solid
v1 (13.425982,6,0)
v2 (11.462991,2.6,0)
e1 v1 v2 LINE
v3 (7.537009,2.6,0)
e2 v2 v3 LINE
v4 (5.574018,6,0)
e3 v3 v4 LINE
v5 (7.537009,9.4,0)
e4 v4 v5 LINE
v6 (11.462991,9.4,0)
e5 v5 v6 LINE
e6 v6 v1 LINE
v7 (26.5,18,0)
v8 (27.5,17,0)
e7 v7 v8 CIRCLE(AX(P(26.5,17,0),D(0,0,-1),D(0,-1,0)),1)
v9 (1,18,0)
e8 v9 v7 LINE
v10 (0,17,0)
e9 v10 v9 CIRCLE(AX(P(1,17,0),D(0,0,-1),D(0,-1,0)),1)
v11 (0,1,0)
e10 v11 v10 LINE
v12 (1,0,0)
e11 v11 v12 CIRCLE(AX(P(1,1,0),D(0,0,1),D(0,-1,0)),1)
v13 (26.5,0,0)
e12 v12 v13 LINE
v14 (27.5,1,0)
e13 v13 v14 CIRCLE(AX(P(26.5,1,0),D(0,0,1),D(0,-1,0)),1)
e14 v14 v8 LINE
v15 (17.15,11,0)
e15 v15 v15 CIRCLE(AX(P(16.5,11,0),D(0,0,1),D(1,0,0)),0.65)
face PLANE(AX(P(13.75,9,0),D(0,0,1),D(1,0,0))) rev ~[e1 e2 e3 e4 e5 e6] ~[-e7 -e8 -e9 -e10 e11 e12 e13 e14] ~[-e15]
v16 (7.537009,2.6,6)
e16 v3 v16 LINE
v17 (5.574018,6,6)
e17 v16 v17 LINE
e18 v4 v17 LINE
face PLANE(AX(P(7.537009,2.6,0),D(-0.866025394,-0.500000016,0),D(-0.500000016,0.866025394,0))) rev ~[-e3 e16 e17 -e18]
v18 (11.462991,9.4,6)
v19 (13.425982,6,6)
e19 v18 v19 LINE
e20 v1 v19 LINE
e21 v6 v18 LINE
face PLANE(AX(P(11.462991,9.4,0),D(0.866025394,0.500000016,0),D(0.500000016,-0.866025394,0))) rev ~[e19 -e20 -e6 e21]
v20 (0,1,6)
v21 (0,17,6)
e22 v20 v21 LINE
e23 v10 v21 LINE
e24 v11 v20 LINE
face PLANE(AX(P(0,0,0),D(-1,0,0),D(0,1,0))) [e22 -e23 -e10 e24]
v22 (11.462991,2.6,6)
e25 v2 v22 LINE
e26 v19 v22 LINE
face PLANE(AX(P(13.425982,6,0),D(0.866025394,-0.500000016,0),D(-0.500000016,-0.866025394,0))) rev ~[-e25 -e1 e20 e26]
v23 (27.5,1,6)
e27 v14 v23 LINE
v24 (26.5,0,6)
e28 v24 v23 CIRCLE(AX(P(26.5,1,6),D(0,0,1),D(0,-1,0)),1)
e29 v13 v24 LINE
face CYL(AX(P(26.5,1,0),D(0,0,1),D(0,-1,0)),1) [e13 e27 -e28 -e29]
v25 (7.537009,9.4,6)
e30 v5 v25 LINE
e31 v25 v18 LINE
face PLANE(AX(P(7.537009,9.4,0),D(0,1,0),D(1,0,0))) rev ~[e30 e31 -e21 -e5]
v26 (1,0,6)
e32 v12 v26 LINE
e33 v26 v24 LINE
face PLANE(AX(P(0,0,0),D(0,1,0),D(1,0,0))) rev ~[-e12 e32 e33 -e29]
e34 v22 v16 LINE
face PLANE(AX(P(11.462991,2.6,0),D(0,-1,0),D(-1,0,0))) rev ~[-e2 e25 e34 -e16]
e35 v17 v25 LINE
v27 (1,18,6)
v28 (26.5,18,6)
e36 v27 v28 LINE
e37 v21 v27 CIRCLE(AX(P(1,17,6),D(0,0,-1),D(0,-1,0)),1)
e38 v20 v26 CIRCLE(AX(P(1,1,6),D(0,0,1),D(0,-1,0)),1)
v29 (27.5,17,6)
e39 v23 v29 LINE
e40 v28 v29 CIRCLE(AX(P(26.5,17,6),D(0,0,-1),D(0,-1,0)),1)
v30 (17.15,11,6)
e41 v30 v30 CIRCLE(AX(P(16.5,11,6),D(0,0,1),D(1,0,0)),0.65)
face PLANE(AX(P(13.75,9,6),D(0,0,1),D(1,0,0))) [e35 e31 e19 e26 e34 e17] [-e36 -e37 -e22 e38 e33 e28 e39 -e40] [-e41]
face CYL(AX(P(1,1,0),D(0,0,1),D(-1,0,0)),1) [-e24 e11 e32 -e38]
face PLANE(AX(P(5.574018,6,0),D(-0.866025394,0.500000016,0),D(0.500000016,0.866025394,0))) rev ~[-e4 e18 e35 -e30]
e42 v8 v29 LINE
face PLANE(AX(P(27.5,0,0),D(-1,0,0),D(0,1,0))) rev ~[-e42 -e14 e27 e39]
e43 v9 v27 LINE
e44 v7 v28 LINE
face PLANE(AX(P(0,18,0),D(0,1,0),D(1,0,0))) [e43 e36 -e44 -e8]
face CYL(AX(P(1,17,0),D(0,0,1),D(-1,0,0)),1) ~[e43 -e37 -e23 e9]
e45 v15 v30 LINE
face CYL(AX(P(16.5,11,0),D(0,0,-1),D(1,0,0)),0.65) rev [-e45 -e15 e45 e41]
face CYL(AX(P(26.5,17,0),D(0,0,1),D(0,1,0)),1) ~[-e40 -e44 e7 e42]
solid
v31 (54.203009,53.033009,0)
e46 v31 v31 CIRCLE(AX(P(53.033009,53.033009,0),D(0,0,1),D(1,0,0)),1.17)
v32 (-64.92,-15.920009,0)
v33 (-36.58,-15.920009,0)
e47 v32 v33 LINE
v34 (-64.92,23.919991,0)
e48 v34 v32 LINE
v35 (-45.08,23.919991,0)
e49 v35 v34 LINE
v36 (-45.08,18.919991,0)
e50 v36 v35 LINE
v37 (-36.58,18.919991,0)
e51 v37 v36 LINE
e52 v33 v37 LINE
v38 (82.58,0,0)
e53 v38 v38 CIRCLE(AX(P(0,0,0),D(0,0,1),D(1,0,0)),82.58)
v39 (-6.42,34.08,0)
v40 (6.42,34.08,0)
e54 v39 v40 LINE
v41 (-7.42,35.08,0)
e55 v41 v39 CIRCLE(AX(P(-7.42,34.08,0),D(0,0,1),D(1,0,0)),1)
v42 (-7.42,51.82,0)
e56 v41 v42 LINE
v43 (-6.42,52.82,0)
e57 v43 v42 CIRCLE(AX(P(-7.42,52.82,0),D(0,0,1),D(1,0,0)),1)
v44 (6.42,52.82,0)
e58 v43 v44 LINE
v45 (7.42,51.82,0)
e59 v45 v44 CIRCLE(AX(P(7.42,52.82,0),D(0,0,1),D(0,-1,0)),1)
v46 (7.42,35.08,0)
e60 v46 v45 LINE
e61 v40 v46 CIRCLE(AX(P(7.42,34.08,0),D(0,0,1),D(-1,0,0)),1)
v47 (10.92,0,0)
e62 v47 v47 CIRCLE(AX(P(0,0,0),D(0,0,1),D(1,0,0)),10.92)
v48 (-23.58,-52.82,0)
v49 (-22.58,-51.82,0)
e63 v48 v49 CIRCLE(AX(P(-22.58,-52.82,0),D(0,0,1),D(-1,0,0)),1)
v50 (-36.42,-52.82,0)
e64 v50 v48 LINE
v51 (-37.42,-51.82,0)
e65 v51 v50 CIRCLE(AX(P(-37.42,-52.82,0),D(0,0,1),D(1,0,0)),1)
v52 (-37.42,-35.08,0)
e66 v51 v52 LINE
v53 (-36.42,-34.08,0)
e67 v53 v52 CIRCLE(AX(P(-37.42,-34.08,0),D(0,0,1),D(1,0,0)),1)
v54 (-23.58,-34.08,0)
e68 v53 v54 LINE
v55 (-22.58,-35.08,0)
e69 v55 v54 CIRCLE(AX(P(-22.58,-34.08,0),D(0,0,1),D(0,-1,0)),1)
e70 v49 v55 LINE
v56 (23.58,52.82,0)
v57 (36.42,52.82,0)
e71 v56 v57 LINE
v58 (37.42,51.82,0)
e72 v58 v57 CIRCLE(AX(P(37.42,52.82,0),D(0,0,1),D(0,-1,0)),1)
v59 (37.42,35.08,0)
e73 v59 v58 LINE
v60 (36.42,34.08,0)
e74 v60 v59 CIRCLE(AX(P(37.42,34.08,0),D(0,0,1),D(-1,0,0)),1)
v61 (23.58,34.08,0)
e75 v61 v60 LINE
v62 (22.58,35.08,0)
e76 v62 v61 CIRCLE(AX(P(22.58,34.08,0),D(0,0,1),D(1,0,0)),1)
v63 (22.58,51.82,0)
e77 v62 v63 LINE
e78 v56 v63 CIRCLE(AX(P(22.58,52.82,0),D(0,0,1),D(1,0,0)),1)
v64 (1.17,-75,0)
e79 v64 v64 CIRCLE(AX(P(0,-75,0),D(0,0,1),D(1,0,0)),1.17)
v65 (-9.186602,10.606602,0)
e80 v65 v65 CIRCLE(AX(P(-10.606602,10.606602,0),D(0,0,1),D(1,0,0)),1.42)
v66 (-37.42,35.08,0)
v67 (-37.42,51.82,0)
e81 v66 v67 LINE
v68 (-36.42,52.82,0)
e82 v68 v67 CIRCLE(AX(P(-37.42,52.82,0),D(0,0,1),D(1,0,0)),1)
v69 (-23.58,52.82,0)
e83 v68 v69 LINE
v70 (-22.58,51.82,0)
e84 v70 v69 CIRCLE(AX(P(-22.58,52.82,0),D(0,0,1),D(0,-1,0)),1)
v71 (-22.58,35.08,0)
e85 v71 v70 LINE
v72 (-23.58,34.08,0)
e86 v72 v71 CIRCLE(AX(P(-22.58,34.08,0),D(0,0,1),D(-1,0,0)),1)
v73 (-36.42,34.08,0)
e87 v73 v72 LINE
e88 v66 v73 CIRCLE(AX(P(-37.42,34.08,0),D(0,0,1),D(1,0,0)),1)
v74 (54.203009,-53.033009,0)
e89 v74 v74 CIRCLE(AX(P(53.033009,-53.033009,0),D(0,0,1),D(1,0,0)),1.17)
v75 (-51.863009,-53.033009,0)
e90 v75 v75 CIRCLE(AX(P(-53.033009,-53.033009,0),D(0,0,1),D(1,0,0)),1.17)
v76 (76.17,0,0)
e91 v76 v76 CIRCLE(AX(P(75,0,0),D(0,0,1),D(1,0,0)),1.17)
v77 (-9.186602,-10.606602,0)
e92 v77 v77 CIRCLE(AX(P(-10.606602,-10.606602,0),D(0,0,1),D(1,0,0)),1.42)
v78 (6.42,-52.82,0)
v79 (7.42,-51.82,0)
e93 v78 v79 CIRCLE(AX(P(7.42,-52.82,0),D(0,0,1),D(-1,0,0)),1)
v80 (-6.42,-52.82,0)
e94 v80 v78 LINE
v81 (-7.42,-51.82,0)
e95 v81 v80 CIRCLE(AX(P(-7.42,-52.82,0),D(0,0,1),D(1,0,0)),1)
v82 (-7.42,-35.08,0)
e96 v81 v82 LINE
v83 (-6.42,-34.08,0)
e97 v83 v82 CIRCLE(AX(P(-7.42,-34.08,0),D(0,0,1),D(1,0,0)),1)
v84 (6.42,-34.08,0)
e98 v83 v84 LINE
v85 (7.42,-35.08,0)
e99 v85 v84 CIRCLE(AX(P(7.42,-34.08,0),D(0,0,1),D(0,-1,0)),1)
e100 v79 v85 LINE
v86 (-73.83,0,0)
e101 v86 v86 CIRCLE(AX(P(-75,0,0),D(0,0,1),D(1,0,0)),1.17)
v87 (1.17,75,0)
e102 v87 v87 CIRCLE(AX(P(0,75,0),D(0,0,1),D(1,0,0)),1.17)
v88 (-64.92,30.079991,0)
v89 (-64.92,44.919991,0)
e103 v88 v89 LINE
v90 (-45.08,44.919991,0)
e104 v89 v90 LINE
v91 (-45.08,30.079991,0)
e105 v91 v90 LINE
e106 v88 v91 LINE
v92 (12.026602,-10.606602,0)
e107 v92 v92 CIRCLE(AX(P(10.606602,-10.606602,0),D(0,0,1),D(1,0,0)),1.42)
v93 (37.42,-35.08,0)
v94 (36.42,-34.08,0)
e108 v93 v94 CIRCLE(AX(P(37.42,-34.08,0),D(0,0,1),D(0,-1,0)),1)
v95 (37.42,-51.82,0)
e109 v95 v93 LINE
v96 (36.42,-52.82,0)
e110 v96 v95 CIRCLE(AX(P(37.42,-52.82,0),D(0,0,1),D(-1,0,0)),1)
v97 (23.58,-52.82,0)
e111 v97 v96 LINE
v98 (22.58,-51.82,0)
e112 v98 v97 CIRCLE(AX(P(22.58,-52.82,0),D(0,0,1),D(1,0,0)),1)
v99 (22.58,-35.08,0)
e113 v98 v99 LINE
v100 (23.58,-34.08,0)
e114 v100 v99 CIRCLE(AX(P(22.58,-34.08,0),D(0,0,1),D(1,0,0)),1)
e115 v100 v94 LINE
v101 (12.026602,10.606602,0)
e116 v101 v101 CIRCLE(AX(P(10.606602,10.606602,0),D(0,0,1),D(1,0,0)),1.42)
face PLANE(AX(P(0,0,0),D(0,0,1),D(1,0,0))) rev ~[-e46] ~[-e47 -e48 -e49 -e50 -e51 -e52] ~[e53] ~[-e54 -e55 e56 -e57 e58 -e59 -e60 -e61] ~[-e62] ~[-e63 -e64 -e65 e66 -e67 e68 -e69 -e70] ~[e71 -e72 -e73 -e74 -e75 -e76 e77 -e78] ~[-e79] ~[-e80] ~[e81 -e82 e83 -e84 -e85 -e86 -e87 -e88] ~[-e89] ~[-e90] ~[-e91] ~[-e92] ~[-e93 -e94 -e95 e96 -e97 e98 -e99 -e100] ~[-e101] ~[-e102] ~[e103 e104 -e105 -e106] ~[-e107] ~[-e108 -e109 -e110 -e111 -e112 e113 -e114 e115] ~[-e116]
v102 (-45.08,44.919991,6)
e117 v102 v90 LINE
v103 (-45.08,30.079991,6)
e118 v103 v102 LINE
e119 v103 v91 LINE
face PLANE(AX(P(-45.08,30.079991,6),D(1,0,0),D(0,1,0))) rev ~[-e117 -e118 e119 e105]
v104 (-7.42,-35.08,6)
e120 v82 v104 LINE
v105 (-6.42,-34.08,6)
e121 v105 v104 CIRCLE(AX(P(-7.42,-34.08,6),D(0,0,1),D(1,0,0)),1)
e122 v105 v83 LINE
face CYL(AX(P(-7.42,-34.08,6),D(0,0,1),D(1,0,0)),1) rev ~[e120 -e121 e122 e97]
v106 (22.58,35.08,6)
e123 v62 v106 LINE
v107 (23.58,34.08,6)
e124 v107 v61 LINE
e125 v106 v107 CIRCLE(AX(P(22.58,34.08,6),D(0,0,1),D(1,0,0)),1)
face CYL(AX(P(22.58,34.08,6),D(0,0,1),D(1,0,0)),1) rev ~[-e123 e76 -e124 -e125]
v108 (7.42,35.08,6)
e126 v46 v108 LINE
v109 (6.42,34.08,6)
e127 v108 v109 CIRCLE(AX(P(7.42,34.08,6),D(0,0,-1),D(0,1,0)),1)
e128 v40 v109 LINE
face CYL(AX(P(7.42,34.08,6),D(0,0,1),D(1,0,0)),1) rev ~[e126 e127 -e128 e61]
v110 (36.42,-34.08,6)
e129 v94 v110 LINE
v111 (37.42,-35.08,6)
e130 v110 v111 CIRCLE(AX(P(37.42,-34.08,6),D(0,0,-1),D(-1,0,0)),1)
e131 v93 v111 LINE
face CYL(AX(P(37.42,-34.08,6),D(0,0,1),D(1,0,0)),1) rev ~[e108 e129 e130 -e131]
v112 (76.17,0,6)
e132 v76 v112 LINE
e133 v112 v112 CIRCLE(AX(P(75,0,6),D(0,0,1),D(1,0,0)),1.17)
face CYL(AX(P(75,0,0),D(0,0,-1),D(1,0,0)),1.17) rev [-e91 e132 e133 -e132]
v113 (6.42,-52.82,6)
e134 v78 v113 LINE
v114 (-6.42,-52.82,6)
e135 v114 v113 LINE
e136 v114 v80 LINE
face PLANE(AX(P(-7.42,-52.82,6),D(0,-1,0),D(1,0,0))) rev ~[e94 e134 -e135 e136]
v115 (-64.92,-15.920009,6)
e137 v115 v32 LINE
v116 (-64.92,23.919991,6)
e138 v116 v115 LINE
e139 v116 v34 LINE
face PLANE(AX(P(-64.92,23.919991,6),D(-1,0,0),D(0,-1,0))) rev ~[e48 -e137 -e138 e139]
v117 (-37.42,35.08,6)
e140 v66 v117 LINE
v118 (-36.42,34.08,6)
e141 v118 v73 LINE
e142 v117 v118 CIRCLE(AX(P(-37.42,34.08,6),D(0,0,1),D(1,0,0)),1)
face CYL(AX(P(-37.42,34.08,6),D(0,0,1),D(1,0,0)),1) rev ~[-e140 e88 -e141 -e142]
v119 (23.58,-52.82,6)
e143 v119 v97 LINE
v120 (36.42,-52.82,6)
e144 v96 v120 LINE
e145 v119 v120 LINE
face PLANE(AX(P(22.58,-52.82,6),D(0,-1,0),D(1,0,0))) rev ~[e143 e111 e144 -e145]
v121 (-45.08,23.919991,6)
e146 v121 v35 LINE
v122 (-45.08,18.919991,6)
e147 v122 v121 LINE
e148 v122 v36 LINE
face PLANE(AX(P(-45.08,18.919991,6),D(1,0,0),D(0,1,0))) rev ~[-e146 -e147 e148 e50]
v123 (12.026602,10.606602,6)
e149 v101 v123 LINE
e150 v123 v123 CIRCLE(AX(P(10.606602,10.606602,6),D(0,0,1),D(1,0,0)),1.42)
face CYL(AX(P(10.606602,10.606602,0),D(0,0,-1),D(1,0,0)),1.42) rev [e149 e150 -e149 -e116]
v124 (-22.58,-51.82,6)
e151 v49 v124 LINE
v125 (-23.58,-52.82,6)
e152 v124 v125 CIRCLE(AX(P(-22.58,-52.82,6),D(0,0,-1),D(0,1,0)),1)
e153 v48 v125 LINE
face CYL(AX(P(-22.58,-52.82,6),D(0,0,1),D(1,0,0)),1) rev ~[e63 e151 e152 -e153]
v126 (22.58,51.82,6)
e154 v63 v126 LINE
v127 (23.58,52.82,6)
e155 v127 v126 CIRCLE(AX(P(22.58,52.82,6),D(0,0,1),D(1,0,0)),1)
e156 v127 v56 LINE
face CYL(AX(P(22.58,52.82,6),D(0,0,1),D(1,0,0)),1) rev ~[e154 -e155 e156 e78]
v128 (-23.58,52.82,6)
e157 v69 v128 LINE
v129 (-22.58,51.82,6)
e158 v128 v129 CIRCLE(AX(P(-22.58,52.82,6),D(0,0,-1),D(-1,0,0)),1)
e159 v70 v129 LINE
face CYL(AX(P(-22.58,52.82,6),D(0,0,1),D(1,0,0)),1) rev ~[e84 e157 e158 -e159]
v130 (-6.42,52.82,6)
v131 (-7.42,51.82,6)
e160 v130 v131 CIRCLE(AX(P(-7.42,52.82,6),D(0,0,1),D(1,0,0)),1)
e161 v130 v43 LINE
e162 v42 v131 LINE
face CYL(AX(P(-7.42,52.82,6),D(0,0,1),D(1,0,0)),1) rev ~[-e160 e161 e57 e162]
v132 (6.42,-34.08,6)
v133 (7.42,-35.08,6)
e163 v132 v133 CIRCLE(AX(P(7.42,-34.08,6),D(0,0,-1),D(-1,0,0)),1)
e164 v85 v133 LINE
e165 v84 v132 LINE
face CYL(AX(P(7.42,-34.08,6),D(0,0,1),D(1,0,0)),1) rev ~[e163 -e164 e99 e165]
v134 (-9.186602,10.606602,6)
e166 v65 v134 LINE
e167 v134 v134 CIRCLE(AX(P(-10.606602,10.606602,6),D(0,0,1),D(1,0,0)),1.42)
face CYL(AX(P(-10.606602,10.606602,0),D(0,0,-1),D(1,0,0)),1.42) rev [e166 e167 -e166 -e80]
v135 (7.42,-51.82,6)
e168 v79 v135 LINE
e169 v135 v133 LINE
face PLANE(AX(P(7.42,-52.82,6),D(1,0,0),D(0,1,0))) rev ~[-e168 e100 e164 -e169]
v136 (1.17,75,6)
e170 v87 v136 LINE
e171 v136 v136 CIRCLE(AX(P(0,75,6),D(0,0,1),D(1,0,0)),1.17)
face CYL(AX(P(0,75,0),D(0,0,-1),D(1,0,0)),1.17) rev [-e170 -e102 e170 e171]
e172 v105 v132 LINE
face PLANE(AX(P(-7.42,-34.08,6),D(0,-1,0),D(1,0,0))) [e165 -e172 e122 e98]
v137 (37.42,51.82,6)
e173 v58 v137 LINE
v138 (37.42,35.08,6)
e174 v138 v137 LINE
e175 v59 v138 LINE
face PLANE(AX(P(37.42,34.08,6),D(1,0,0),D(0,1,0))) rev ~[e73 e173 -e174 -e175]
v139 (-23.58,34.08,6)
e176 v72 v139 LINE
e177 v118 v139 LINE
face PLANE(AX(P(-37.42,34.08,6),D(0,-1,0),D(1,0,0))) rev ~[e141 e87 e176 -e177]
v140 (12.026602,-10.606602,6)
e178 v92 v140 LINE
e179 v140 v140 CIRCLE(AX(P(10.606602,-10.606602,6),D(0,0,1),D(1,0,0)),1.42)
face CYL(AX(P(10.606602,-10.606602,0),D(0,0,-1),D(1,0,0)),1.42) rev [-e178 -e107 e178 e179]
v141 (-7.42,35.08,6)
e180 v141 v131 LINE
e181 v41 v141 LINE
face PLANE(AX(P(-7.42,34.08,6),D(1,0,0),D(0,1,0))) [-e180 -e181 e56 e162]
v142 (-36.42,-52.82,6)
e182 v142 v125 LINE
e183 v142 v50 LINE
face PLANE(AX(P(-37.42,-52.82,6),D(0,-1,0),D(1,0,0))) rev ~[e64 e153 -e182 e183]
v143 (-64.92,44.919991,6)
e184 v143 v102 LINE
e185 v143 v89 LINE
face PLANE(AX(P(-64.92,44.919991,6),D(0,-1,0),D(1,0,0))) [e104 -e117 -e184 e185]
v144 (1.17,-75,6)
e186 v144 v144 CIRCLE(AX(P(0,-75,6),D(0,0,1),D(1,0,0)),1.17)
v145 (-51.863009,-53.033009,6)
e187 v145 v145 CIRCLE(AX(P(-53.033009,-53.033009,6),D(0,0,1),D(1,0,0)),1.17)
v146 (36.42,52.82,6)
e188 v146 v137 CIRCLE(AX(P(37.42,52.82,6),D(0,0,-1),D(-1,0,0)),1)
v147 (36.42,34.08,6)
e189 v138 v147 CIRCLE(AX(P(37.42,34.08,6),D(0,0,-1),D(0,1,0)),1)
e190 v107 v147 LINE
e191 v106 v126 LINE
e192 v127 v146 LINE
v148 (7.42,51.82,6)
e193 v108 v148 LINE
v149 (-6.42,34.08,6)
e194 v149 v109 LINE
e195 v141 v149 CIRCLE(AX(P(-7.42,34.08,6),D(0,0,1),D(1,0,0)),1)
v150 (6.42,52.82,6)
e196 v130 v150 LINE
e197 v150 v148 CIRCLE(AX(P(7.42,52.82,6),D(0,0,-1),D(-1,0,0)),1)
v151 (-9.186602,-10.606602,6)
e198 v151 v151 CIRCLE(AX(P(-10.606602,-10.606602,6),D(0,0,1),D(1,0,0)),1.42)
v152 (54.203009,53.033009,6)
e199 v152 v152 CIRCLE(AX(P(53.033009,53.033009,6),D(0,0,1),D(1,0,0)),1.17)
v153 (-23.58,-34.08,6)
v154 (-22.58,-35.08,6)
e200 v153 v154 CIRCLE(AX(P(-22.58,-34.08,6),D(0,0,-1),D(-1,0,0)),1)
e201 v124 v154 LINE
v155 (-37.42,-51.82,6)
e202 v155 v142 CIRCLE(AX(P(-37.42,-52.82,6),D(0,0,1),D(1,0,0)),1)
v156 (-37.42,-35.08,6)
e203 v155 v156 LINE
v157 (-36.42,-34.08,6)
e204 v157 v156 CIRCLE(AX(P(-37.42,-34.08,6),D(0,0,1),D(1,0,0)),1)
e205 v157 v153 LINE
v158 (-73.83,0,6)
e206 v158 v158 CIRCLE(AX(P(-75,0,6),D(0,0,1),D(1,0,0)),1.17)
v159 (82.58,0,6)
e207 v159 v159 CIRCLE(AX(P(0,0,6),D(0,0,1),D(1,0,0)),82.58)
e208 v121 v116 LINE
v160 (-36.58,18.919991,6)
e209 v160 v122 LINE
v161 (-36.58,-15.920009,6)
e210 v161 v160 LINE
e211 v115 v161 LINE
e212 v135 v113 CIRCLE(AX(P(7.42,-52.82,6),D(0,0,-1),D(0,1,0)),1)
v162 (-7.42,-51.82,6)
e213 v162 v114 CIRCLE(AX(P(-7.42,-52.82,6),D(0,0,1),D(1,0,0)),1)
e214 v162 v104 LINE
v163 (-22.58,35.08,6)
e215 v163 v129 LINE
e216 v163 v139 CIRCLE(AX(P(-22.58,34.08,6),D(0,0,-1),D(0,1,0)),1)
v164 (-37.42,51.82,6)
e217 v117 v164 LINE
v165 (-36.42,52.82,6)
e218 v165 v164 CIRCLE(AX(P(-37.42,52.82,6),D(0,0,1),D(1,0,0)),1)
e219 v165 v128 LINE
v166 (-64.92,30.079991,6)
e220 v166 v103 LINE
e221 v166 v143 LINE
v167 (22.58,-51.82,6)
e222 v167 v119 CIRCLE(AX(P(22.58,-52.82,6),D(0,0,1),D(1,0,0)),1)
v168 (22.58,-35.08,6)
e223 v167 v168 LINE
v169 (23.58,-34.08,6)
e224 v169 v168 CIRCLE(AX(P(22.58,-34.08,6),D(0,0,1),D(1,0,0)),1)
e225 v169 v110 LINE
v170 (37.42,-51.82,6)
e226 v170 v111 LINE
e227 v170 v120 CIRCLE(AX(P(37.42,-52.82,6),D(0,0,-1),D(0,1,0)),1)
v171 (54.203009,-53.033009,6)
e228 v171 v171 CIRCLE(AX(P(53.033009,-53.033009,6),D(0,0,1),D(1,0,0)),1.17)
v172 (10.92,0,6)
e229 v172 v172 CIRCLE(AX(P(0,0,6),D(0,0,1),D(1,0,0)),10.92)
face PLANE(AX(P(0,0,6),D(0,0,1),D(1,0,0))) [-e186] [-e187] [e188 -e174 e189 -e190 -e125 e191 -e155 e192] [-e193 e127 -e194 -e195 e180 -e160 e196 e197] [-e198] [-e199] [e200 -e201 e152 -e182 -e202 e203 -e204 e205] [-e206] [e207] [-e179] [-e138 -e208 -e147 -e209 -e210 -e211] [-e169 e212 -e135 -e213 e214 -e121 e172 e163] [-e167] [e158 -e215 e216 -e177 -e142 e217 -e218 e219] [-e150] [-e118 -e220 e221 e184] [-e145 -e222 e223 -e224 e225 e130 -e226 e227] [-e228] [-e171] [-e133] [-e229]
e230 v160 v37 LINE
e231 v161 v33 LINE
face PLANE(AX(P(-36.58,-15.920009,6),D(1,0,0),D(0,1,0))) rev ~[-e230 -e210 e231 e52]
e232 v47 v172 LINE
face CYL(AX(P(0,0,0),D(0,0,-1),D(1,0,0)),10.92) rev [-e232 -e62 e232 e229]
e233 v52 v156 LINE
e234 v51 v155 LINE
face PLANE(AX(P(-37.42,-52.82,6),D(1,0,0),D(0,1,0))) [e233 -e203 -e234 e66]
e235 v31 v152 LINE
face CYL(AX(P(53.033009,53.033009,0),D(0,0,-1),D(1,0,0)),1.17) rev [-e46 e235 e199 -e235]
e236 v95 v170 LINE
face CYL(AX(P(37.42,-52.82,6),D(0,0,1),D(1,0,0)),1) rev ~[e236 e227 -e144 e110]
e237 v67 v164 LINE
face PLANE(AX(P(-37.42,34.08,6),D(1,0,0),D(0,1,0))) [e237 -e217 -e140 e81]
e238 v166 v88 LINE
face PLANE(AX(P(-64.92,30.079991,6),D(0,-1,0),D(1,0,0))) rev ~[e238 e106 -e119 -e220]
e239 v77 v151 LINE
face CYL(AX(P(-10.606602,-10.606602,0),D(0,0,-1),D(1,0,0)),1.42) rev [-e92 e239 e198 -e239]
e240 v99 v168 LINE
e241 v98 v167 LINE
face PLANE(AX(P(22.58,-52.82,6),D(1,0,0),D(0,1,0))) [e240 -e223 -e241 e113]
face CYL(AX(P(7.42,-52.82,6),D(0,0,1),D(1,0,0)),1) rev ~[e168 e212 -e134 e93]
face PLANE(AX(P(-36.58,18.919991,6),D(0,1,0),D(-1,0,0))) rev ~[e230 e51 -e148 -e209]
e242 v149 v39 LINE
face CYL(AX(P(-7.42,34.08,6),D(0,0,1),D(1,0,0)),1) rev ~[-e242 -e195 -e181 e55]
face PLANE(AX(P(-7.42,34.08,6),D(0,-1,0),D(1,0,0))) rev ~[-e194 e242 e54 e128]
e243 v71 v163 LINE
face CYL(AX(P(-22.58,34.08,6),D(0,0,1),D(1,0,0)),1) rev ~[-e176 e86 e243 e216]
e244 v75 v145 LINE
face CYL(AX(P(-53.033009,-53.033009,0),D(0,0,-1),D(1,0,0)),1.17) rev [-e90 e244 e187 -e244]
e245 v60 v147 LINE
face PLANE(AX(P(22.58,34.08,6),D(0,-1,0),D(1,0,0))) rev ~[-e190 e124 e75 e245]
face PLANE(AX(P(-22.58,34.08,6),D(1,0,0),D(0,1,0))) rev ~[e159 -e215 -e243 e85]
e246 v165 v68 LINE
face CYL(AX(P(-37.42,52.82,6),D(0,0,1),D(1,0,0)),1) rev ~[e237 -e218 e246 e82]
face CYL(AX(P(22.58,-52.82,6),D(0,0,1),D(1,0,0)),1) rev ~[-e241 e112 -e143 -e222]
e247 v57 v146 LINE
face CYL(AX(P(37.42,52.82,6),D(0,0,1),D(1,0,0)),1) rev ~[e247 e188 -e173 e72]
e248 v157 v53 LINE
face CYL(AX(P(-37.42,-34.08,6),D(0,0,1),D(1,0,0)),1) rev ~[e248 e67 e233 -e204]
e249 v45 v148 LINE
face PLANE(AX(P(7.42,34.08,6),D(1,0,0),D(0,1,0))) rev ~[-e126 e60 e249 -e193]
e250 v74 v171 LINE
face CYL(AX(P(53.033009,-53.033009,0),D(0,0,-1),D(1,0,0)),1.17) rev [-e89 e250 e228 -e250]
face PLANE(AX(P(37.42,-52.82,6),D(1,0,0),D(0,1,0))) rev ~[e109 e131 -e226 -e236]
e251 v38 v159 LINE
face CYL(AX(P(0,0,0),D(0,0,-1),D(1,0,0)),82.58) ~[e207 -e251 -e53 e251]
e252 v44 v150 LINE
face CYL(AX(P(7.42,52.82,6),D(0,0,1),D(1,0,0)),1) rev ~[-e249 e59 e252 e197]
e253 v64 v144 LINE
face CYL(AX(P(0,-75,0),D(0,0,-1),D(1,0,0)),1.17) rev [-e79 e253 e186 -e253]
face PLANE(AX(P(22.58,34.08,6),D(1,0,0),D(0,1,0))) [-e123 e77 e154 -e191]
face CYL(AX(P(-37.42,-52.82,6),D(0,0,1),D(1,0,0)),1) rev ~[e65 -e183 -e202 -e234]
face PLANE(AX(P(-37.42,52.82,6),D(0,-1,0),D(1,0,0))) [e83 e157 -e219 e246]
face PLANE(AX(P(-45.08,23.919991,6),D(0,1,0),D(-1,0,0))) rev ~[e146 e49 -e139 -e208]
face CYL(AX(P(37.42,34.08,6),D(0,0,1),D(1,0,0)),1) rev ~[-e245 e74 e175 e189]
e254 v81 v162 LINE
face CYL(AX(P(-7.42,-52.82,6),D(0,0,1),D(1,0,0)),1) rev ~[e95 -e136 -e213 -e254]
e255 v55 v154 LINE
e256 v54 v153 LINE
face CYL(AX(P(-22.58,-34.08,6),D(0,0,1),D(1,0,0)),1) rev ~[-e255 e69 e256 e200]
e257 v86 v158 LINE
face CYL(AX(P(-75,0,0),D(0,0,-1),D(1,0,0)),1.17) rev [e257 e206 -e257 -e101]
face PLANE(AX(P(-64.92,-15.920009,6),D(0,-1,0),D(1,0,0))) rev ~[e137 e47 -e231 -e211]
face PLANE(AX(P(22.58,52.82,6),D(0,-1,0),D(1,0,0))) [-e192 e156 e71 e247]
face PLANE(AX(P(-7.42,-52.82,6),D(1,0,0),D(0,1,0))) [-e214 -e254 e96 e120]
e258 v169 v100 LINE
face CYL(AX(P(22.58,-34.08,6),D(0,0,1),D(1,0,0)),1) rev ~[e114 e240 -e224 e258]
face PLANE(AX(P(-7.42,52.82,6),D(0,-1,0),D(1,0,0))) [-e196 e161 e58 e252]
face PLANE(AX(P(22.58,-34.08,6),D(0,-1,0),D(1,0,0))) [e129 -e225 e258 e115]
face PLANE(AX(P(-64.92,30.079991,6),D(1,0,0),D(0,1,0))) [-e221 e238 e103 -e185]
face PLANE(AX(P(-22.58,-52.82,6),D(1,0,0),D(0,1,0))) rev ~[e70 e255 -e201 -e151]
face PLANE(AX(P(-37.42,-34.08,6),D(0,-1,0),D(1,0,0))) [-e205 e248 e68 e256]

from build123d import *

# Parameters (mm, degrees)
F0_R     = 82.58
F0_R_2   = 1.17
F0_R_3   = 1.42
F0_R_4   = 10.92
F1_DEPTH = 6
F2_W     = 19.84
F2_H     = 14.84
F3_DEPTH = 6.001
F4_R     = 82.58
F4_R_2   = 1.17
F4_W     = 14.84
F4_H     = 18.74
F4_R_3   = 1.42
F4_W_2   = 19.84
F4_H_2   = 14.84
F4_R_4   = 10.92
F5_DEPTH = 6.001
F6_R     = 1
F7_DEPTH = 6.001
F8_W     = 27.5
F8_H     = 18
F8_R     = 0.65
F9_DEPTH = 6
F10_R    = 1


with BuildPart() as f1:
    # F0 (on Top) → F1 (new body)
    with BuildSketch(Plane.XY):
        Circle(F0_R)
        with Locations((-53.033009, -53.033009)):
            Circle(F0_R_2, mode=Mode.SUBTRACT)
        with Locations((-10.606602, -10.606602)):
            Circle(F0_R_3, mode=Mode.SUBTRACT)
        with Locations((0, -75)):
            Circle(F0_R_2, mode=Mode.SUBTRACT)
        with Locations((53.033009, -53.033009)):
            Circle(F0_R_2, mode=Mode.SUBTRACT)
        with Locations((10.606602, -10.606602)):
            Circle(F0_R_3, mode=Mode.SUBTRACT)
        with Locations((-75, 0)):
            Circle(F0_R_2, mode=Mode.SUBTRACT)
        with Locations((-10.606602, 10.606602)):
            Circle(F0_R_3, mode=Mode.SUBTRACT)
        Circle(F0_R_4, mode=Mode.SUBTRACT)
        with Locations((10.606602, 10.606602)):
            Circle(F0_R_3, mode=Mode.SUBTRACT)
        with Locations((75, 0)):
            Circle(F0_R_2, mode=Mode.SUBTRACT)
        with Locations((0, 75)):
            Circle(F0_R_2, mode=Mode.SUBTRACT)
        with Locations((53.033009, 53.033009)):
            Circle(F0_R_2, mode=Mode.SUBTRACT)
    extrude(amount=F1_DEPTH)

    # F2 (on face) → F3 (cut, through all)
    with BuildSketch(Plane.XY.offset(6)):
        with Locations((-55, 37.499991)):
            Rectangle(F2_W, F2_H)
        Polygon((-45.08, 23.919991), (-64.92, 23.919991), (-64.92, -15.920009), (-36.58, -15.920009), (-36.58, 18.919991), (-45.08, 18.919991), align=None)
    extrude(amount=-F3_DEPTH, mode=Mode.SUBTRACT)

    # F4 (on face) → F5 (intersect, through all)
    with BuildSketch(Plane.XY.offset(6)):
        Circle(F4_R)
        with Locations((-53.033009, -53.033009)):
            Circle(F4_R_2, mode=Mode.SUBTRACT)
        with Locations((-30, -43.45)):
            Rectangle(F4_W, F4_H, mode=Mode.SUBTRACT)
        with Locations((-10.606602, -10.606602)):
            Circle(F4_R_3, mode=Mode.SUBTRACT)
        with Locations((0, -75)):
            Circle(F4_R_2, mode=Mode.SUBTRACT)
        with Locations((0, -43.45)):
            Rectangle(F4_W, F4_H, mode=Mode.SUBTRACT)
        with Locations((30, -43.45)):
            Rectangle(F4_W, F4_H, mode=Mode.SUBTRACT)
        with Locations((53.033009, -53.033009)):
            Circle(F4_R_2, mode=Mode.SUBTRACT)
        with Locations((10.606602, -10.606602)):
            Circle(F4_R_3, mode=Mode.SUBTRACT)
        with Locations((-75, 0)):
            Circle(F4_R_2, mode=Mode.SUBTRACT)
        Polygon((-45.08, 23.919991), (-45.08, 18.919991), (-36.58, 18.919991), (-36.58, -15.920009), (-64.92, -15.920009), (-64.92, 23.919991), align=None, mode=Mode.SUBTRACT)
        with Locations((-55, 37.499991)):
            Rectangle(F4_W_2, F4_H_2, mode=Mode.SUBTRACT)
        with Locations((-10.606602, 10.606602)):
            Circle(F4_R_3, mode=Mode.SUBTRACT)
        with Locations((-30, 43.45)):
            Rectangle(F4_W, F4_H, mode=Mode.SUBTRACT)
        Circle(F4_R_4, mode=Mode.SUBTRACT)
        with Locations((10.606602, 10.606602)):
            Circle(F4_R_3, mode=Mode.SUBTRACT)
        with Locations((75, 0)):
            Circle(F4_R_2, mode=Mode.SUBTRACT)
        with Locations((0, 43.45)):
            Rectangle(F4_W, F4_H, mode=Mode.SUBTRACT)
        with Locations((30, 43.45)):
            Rectangle(F4_W, F4_H, mode=Mode.SUBTRACT)
        with Locations((0, 75)):
            Circle(F4_R_2, mode=Mode.SUBTRACT)
        with Locations((53.033009, 53.033009)):
            Circle(F4_R_2, mode=Mode.SUBTRACT)
    extrude(amount=-F5_DEPTH, mode=Mode.INTERSECT)

    # F6 (on face) → F7 (cut, through all)
    with BuildSketch(Plane.XY.offset(6)):
        with Locations((-37.42, 52.82)):
            Circle(F6_R)
        with Locations((-22.58, 52.82)):
            Circle(F6_R)
        with Locations((-22.58, 34.08)):
            Circle(F6_R)
        with Locations((-37.42, 34.08)):
            Circle(F6_R)
        with Locations((-7.42, 34.08)):
            Circle(F6_R)
        with Locations((-7.42, 52.82)):
            Circle(F6_R)
        with Locations((7.42, 52.82)):
            Circle(F6_R)
        with Locations((7.42, 34.08)):
            Circle(F6_R)
        with Locations((22.58, 34.08)):
            Circle(F6_R)
        with Locations((37.42, 34.08)):
            Circle(F6_R)
        with Locations((37.42, 52.82)):
            Circle(F6_R)
        with Locations((22.58, 52.82)):
            Circle(F6_R)
        with Locations((37.42, -52.82)):
            Circle(F6_R)
        with Locations((37.42, -34.08)):
            Circle(F6_R)
        with Locations((22.58, -34.08)):
            Circle(F6_R)
        with Locations((22.58, -52.82)):
            Circle(F6_R)
        with Locations((7.42, -52.82)):
            Circle(F6_R)
        with Locations((7.42, -34.08)):
            Circle(F6_R)
        with Locations((-7.42, -34.08)):
            Circle(F6_R)
        with Locations((-7.42, -52.82)):
            Circle(F6_R)
        with Locations((-22.58, -52.82)):
            Circle(F6_R)
        with Locations((-37.42, -52.82)):
            Circle(F6_R)
        with Locations((-37.42, -34.08)):
            Circle(F6_R)
        with Locations((-22.58, -34.08)):
            Circle(F6_R)
    extrude(amount=-F7_DEPTH, mode=Mode.SUBTRACT)


with BuildPart() as f9:
    # F8 (on Top) → F9 (new body)
    with BuildSketch(Plane.XY):
        with Locations((13.75, 9)):
            Rectangle(F8_W, F8_H)
        Polygon((11.462991, 9.4), (13.425982, 6), (11.462991, 2.6), (7.537009, 2.6), (5.574018, 6), (7.537009, 9.4), align=None, mode=Mode.SUBTRACT)
        with Locations((16.5, 11)):
            Circle(F8_R, mode=Mode.SUBTRACT)
    extrude(amount=F9_DEPTH)

    # F10
    f10_edges = [f9.edges().sort_by_distance(p)[0] for p in [
        (0, 18, 3),
        (0, 0, 3),
        (27.5, 0, 3),
        (27.5, 18, 3),
    ]]
    fillet(f10_edges, radius=F10_R)


solid = Compound([f1.part, f9.part])
